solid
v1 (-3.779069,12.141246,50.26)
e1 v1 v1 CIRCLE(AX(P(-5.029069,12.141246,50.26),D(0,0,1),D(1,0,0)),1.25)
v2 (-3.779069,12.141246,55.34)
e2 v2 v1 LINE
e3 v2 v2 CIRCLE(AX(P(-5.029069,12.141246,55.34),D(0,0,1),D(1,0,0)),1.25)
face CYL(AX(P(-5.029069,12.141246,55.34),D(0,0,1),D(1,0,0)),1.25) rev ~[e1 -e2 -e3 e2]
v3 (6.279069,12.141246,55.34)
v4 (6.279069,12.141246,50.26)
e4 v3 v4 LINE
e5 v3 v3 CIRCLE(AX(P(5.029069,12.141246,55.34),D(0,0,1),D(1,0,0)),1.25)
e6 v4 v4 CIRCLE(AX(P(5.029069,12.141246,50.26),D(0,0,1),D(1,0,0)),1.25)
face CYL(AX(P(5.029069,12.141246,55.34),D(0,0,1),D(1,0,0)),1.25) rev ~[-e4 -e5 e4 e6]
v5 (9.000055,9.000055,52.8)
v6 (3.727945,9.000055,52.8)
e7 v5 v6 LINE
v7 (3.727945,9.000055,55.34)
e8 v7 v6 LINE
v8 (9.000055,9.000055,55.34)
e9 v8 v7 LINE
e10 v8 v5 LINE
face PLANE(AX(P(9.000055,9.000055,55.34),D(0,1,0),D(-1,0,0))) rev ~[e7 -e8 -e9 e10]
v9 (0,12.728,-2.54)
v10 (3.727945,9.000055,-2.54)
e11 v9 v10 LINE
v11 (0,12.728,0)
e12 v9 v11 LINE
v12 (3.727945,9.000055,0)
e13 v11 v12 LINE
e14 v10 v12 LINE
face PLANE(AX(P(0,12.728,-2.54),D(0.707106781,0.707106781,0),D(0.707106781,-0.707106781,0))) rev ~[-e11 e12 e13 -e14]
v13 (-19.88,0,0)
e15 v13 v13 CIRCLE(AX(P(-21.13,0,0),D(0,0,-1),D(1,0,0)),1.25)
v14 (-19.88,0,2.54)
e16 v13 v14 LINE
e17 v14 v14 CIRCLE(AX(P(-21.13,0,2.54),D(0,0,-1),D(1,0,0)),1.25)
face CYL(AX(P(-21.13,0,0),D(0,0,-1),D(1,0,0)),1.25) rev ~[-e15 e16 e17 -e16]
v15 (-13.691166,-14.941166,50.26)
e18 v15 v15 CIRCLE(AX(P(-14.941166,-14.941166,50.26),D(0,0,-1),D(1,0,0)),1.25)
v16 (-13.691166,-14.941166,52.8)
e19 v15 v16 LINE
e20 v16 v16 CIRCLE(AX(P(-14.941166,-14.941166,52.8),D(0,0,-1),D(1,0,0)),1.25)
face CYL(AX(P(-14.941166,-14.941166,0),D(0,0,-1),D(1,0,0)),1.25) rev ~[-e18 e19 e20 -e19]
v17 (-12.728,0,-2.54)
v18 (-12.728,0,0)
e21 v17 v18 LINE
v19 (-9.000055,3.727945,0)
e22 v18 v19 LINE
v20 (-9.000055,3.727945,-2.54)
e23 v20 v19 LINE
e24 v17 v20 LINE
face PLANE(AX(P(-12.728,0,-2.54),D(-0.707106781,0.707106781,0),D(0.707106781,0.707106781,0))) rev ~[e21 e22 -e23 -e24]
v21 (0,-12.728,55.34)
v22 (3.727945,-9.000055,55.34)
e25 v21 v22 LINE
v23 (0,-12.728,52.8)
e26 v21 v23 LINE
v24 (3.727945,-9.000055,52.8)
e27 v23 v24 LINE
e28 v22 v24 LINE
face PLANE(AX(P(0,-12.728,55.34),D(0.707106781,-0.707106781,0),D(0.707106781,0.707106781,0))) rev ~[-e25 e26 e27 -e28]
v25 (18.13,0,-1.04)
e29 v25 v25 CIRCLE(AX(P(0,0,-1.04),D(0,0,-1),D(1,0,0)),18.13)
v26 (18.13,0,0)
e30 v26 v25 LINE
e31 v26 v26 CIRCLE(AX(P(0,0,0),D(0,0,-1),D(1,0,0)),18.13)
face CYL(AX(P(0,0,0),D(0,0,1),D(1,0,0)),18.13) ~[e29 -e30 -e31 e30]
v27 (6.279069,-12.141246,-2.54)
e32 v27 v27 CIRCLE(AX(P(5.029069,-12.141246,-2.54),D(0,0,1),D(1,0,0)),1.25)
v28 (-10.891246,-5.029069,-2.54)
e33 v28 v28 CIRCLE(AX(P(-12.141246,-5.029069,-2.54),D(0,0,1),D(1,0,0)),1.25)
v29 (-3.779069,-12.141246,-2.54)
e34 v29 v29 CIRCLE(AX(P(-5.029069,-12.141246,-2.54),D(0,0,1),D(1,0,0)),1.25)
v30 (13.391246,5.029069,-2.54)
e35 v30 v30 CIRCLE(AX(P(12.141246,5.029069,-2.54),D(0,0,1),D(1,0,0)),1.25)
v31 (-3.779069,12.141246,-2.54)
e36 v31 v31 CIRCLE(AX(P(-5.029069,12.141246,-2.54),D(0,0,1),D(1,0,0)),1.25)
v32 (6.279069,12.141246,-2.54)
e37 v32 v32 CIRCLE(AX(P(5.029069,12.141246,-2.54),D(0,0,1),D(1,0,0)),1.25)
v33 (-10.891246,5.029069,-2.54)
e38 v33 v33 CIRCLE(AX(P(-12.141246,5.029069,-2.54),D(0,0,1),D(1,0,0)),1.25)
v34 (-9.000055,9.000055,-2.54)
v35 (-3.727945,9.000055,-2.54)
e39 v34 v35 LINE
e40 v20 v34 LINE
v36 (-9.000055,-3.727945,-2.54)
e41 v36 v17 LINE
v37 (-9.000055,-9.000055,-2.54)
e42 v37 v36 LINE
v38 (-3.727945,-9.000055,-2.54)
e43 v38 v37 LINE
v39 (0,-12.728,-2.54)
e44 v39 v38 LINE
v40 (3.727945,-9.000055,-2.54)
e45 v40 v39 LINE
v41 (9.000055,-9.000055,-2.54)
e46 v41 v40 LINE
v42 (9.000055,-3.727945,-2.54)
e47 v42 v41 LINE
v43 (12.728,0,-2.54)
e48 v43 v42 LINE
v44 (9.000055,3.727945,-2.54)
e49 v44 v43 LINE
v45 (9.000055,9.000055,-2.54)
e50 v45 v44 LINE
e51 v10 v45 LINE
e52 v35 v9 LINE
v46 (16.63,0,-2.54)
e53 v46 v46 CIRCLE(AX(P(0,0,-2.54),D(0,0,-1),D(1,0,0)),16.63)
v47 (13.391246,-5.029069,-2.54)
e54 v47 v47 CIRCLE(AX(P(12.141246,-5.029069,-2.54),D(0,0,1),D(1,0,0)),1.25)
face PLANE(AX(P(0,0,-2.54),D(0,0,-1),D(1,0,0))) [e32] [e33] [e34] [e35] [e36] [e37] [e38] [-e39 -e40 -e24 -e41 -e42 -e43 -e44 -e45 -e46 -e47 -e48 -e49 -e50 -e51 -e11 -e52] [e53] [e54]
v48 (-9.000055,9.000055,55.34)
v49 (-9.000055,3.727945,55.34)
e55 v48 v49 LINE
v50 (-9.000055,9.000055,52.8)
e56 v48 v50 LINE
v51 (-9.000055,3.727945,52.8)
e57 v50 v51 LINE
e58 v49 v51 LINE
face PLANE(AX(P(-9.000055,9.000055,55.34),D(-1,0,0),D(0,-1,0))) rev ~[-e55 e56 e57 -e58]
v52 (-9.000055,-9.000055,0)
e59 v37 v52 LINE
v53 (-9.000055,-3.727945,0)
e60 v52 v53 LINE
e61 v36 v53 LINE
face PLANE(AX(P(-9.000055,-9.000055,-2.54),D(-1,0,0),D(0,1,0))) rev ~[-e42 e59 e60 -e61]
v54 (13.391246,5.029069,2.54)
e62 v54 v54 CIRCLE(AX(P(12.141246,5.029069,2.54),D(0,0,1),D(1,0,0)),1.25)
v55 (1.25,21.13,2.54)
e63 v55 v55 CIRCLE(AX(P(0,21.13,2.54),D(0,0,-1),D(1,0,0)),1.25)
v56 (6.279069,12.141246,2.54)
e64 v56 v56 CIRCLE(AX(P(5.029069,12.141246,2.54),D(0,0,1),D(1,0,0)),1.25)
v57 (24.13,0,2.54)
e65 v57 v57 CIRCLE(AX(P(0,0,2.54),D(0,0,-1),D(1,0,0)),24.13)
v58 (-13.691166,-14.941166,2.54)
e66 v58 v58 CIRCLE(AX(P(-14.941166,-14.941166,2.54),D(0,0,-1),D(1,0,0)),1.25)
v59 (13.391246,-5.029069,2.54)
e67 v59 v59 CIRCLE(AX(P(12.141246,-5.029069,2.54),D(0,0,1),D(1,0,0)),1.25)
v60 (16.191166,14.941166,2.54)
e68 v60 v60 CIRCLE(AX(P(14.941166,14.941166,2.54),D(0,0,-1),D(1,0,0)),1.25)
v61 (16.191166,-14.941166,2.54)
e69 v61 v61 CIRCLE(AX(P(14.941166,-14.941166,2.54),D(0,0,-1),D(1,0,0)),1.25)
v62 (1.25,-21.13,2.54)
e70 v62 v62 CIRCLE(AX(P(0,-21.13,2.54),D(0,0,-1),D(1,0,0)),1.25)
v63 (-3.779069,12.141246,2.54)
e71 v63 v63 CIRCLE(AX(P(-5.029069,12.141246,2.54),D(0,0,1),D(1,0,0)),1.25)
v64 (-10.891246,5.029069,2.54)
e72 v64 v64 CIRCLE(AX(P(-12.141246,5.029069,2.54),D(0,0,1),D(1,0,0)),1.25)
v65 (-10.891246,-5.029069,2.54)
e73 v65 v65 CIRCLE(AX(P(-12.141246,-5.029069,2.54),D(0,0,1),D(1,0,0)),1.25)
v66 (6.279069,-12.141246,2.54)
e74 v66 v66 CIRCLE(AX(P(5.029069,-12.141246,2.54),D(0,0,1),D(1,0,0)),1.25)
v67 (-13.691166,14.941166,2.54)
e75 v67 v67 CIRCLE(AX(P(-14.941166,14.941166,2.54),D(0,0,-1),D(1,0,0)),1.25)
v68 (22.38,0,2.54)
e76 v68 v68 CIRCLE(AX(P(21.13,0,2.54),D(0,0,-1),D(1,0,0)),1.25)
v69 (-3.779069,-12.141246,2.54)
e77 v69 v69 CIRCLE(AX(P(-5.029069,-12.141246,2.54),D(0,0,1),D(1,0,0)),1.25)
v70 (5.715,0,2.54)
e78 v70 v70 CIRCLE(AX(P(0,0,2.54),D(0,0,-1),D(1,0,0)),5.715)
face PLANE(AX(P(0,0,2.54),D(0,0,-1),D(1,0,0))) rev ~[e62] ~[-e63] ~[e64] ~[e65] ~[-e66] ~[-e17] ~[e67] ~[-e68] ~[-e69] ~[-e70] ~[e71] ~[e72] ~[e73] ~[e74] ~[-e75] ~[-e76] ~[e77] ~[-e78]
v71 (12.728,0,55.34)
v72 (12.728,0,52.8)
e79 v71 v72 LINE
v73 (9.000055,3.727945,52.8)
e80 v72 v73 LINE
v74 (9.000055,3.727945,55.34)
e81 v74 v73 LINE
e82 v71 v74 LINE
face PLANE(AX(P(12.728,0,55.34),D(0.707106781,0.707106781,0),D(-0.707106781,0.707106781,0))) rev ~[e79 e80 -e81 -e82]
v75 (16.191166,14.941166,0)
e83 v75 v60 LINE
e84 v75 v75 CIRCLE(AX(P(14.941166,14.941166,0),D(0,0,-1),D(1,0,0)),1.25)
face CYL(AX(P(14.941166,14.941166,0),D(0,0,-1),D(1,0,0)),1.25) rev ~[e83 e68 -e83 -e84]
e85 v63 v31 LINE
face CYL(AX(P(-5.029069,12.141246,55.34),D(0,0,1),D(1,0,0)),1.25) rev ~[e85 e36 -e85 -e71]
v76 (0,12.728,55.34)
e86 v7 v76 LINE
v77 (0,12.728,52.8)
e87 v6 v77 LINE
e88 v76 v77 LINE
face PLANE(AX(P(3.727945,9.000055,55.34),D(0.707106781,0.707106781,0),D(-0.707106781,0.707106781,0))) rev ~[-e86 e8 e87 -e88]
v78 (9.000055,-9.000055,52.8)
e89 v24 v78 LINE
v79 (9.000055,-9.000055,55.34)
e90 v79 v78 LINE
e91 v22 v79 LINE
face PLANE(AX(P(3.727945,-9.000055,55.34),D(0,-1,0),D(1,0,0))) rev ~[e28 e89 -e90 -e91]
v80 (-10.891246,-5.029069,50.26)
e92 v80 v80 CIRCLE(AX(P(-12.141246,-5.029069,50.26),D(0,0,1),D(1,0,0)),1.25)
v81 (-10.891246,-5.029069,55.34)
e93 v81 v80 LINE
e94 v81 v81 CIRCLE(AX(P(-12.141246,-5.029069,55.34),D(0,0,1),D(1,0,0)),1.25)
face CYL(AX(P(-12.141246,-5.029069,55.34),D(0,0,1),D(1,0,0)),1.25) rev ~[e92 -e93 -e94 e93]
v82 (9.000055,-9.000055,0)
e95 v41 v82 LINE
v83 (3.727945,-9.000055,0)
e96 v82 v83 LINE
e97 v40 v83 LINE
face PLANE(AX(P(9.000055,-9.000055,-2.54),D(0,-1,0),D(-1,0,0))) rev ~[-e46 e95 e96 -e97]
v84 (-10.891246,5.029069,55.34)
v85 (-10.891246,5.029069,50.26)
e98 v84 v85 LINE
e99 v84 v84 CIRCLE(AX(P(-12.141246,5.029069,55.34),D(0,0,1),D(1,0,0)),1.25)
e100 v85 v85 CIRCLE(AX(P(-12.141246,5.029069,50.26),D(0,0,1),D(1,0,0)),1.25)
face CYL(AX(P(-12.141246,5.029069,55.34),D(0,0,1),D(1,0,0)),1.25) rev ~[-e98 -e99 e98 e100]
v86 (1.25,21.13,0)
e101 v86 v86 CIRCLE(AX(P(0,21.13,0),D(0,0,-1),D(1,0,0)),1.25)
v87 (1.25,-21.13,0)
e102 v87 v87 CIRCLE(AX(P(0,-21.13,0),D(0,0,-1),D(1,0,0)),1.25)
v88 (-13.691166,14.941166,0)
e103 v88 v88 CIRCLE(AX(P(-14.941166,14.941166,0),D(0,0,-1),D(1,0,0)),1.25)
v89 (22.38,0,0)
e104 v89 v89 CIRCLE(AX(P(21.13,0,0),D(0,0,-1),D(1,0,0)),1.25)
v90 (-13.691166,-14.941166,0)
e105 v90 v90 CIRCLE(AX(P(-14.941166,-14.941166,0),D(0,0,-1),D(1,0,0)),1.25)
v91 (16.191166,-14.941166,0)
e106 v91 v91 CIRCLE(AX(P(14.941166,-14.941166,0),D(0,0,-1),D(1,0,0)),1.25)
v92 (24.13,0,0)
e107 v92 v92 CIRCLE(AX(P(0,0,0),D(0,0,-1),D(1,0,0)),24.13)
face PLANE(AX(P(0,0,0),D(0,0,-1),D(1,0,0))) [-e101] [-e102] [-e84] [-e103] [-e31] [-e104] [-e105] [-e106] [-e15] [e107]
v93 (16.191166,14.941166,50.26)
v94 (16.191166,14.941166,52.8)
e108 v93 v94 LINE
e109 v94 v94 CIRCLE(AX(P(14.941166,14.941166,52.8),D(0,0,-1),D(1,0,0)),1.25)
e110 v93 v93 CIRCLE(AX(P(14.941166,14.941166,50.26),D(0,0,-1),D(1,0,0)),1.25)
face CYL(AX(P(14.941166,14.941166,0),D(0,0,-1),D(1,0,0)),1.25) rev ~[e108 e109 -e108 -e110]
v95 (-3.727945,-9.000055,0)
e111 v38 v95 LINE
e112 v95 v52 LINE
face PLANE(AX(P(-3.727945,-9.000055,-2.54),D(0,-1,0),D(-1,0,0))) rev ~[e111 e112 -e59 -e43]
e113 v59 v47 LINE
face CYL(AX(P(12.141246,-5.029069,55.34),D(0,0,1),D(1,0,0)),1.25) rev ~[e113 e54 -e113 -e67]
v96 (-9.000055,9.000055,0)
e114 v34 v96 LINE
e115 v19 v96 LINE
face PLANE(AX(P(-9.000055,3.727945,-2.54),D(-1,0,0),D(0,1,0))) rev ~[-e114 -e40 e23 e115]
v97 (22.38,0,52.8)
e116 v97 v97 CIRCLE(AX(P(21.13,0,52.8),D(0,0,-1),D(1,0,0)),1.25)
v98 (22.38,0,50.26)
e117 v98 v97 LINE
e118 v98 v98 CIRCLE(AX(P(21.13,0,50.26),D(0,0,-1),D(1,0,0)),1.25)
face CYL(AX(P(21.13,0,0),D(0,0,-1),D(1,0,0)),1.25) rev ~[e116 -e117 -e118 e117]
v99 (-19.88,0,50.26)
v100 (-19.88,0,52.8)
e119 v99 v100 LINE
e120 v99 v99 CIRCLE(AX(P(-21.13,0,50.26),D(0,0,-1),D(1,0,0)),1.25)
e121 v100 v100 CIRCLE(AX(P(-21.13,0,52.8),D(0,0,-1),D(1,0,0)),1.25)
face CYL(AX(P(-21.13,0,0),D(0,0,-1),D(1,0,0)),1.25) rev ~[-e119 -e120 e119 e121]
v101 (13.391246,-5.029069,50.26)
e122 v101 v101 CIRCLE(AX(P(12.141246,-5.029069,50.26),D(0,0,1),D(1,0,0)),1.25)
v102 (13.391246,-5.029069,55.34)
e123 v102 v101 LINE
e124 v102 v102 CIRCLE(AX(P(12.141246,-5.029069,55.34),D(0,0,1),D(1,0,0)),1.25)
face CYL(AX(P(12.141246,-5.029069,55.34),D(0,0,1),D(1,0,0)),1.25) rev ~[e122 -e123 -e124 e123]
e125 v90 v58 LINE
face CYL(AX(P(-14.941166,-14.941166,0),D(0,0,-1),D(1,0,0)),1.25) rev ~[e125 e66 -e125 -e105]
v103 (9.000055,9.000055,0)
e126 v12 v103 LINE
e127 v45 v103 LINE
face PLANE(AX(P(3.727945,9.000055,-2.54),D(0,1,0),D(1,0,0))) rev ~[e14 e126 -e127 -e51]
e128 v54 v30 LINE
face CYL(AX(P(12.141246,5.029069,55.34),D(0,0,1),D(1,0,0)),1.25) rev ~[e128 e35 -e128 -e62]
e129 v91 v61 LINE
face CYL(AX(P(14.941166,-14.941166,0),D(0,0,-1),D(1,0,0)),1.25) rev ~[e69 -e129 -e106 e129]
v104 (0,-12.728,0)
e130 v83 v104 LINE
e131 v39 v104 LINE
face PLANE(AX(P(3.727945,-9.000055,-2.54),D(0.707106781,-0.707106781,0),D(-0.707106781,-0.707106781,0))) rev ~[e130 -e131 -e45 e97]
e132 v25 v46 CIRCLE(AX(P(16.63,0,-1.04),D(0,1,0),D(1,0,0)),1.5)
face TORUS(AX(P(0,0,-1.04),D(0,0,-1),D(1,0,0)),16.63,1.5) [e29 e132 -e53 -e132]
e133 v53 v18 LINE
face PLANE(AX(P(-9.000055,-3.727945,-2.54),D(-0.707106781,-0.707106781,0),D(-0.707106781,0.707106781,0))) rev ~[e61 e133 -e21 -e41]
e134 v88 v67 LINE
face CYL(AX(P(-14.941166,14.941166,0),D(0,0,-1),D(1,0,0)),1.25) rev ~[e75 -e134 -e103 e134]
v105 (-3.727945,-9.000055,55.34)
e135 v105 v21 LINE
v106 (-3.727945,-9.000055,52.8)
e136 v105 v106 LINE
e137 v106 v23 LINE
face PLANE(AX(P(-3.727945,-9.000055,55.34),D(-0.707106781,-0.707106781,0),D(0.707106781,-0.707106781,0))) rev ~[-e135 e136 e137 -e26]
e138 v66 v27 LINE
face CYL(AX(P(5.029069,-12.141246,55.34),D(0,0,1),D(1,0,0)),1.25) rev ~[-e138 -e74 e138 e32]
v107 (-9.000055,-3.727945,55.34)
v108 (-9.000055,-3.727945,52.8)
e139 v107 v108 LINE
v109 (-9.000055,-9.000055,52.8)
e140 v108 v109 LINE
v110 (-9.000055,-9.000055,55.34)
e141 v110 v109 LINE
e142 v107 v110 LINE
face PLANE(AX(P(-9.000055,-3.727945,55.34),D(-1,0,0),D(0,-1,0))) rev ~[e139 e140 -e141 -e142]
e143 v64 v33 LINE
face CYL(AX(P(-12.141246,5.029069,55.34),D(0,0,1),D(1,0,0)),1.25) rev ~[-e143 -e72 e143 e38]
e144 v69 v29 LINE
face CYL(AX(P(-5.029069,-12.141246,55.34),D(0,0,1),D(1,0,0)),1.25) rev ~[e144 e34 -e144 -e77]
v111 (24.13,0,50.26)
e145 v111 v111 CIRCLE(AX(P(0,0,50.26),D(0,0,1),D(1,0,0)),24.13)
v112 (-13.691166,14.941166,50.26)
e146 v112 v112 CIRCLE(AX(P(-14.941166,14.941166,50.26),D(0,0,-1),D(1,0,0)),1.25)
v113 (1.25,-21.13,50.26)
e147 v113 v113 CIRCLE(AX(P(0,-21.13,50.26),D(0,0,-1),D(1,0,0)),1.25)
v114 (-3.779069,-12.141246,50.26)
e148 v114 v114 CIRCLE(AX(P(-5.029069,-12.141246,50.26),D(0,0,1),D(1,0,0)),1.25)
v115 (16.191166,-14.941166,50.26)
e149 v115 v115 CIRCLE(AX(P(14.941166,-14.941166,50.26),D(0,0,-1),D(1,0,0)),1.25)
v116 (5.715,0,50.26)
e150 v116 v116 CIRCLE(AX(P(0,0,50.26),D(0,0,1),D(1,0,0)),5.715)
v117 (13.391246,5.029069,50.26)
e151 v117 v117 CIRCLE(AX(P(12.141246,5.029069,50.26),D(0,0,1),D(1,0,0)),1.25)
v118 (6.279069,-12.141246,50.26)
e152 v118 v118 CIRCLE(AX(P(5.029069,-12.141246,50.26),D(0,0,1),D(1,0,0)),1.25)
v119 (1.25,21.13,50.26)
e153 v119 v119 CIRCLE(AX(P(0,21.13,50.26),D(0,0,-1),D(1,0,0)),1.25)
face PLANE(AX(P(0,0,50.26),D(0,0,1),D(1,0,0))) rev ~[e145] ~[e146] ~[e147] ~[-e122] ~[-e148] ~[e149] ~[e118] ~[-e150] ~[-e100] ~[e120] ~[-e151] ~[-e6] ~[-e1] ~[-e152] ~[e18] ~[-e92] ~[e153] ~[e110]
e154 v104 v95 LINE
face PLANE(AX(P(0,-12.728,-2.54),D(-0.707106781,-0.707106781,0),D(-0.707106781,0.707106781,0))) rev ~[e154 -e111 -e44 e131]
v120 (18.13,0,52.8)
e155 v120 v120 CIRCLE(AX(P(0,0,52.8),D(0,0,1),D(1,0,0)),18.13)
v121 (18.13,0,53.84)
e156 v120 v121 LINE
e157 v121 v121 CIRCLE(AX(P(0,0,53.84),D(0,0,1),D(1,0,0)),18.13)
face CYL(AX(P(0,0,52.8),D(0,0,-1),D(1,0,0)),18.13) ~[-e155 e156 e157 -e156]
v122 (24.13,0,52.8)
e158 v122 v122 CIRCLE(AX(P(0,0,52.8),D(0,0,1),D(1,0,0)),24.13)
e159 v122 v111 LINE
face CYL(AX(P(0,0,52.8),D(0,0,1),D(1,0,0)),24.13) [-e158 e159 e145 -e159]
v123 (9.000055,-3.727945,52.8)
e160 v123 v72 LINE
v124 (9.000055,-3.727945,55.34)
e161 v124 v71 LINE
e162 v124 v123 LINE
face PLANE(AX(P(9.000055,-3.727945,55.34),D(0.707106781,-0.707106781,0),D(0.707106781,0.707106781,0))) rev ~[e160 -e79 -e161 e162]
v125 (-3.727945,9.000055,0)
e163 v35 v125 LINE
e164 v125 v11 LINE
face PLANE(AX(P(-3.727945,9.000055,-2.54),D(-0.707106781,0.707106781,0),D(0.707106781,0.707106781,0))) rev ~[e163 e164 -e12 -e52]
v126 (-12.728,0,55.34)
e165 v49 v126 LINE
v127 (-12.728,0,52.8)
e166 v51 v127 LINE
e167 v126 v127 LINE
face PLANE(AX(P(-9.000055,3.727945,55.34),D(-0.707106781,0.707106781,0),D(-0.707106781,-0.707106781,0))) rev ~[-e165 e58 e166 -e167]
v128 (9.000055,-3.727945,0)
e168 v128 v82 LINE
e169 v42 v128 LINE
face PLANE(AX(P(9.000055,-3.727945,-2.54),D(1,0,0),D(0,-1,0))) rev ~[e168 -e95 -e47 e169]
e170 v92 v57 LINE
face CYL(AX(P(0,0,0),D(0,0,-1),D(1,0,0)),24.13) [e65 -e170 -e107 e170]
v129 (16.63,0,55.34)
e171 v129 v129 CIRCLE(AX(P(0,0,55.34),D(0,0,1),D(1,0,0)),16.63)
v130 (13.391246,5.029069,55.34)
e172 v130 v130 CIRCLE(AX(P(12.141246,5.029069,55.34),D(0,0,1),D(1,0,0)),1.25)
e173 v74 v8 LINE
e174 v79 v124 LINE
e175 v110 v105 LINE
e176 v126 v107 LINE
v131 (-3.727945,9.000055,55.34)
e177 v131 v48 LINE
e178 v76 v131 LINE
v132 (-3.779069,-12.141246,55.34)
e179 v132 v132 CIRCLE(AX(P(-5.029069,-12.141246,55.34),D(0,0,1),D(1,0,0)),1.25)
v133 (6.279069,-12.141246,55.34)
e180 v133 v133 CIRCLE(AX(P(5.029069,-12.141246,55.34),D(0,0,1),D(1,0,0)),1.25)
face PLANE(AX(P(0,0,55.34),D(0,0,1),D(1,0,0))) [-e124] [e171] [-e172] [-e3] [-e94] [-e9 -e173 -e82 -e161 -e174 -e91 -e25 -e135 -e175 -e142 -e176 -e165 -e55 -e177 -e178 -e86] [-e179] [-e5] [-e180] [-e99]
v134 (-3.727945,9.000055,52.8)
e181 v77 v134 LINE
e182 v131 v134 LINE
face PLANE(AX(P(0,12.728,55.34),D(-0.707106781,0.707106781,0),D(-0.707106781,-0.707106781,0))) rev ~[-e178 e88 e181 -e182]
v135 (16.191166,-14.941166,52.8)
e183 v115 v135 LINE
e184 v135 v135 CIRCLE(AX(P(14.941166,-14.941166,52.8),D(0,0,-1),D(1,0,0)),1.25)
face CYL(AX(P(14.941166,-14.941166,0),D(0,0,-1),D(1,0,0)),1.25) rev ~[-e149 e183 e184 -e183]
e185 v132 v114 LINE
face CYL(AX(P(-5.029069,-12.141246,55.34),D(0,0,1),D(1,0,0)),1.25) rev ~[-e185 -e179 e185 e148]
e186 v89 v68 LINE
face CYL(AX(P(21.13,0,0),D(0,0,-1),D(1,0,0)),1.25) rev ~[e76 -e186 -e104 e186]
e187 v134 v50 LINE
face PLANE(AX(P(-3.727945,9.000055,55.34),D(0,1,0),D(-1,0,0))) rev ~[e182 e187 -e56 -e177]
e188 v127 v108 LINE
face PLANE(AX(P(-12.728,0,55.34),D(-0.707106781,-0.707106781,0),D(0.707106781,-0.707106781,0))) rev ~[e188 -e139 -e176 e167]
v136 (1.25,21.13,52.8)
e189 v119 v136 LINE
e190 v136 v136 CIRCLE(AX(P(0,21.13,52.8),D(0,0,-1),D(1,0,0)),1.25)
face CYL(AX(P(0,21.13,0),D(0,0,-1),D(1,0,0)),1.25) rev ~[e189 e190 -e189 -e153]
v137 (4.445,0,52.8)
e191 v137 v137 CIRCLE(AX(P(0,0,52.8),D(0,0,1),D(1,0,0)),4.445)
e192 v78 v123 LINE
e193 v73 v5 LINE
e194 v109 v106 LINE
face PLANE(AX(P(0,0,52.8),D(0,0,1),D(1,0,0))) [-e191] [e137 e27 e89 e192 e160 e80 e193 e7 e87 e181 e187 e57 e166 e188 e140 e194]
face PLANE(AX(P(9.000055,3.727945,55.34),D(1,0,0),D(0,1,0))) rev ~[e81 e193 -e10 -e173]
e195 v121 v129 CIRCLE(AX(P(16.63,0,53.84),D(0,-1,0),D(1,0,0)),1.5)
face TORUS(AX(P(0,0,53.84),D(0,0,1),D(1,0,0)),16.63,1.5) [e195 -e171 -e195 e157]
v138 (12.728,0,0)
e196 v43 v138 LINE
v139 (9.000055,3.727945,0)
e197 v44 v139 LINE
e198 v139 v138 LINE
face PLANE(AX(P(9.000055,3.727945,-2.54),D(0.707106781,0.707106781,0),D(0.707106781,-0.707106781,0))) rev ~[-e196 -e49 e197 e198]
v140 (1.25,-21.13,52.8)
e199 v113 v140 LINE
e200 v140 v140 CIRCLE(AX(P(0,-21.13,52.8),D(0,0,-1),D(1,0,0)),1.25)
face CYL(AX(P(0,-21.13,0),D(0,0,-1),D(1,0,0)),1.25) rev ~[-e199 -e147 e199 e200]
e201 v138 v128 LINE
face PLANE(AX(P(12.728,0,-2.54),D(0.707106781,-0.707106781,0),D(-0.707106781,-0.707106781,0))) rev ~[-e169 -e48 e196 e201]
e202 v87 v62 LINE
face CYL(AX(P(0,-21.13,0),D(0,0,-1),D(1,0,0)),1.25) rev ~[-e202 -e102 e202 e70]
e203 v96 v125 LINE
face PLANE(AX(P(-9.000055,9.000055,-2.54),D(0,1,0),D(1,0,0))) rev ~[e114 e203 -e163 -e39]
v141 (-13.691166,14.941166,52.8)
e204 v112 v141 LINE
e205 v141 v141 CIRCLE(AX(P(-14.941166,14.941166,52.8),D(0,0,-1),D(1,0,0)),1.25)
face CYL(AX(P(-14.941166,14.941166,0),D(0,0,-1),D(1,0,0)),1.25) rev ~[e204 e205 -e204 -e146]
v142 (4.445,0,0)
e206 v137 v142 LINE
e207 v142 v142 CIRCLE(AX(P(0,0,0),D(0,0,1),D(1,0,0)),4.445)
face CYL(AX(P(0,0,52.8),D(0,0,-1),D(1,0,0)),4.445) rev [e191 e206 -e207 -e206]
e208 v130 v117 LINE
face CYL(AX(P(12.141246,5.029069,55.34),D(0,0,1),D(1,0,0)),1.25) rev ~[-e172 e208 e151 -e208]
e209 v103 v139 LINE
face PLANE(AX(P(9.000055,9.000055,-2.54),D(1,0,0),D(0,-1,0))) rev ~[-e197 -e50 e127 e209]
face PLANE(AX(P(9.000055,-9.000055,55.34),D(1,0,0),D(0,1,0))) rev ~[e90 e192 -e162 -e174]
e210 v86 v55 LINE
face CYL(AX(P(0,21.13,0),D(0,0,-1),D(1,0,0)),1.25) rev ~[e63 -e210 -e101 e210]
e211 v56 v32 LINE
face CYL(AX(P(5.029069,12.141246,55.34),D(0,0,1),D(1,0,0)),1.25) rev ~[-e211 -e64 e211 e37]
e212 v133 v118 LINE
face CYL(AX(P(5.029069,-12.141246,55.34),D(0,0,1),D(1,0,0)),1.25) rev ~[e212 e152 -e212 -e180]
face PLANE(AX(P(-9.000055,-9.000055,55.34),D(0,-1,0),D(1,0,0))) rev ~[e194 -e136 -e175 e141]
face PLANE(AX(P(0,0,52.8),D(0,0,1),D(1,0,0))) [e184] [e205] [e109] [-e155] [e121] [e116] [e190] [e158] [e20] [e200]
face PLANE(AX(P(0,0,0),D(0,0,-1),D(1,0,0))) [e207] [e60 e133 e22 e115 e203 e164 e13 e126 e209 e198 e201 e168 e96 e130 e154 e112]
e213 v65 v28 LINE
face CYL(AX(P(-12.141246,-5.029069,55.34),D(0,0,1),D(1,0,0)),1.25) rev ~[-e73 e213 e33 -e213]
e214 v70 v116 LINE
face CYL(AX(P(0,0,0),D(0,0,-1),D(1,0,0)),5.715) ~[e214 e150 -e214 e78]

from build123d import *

# Parameters (mm, degrees)
F0_R      = 5.715
F0_R_2    = 4.445
F1_DEPTH  = 52.8
F2_R      = 24.13
F2_R_2    = 5.715
F3_DEPTH  = 2.54
F4_R      = 24.13
F4_R_2    = 5.715
F5_DEPTH  = 2.54
F6_R      = 1.25
F7_DEPTH  = 52.801
F8_R      = 18.13
F8_R_2    = 4.445
F9_DEPTH  = 2.54
F10_R     = 1.5
F11_R     = 4.445
F12_DEPTH = 2.54
F13_R     = 18.13
F13_R_2   = 4.445
F14_DEPTH = 2.54
F15_R     = 1.5
F16_R     = 4.445
F17_DEPTH = 2.54
F18_R     = 1.25
F19_DEPTH = 57.881


with BuildPart() as f1:
    # F0 (on Top) → F1 (new body)
    with BuildSketch(Plane.XY):
        Circle(F0_R)
        Circle(F0_R_2, mode=Mode.SUBTRACT)
    extrude(amount=F1_DEPTH)

    # F2 (on face) → F3 (join)
    with BuildSketch(Plane.XY.offset(52.8)):
        Circle(F2_R)
        Circle(F2_R_2, mode=Mode.SUBTRACT)
    extrude(amount=-F3_DEPTH)

    # F4 (on face) → F5 (join)
    with BuildSketch(Plane(origin=(0, 0, 0), x_dir=(1, 0, 0), z_dir=(0, 0, -1))):
        Circle(F4_R)
        Circle(F4_R_2, mode=Mode.SUBTRACT)
    extrude(amount=-F5_DEPTH)

    # F6 (on face) → F7 (cut, through all)
    with BuildSketch(Plane(origin=(0, 0, 0), x_dir=(1, 0, 0), z_dir=(0, 0, -1))):
        with Locations((-21.13, 0)):
            Circle(F6_R)
        with Locations((-14.941166, -14.941166)):
            Circle(F6_R)
        with Locations((0, -21.13)):
            Circle(F6_R)
        with Locations((14.941166, -14.941166)):
            Circle(F6_R)
        with Locations((21.13, 0)):
            Circle(F6_R)
        with Locations((14.941166, 14.941166)):
            Circle(F6_R)
        with Locations((0, 21.13)):
            Circle(F6_R)
        with Locations((-14.941166, 14.941166)):
            Circle(F6_R)
    extrude(amount=-F7_DEPTH, mode=Mode.SUBTRACT)

    # F8 (on face) → F9 (join)
    with BuildSketch(Plane(origin=(0, 0, 0), x_dir=(1, 0, 0), z_dir=(0, 0, -1))):
        Circle(F8_R)
        Circle(F8_R_2, mode=Mode.SUBTRACT)
    extrude(amount=F9_DEPTH)

    # F10
    f10_edges = [f1.edges().sort_by_distance(p)[0] for p in [
        (-18.13, 0, -2.54),
    ]]
    fillet(f10_edges, radius=F10_R)

    # F11 (on face) → F12 (cut)
    with BuildSketch(Plane(origin=(0, 0, -2.54), x_dir=(1, 0, 0), z_dir=(0, 0, -1))):
        Polygon((3.727945, 9.000055), (0, 12.728), (-3.727945, 9.000055), (-9.000055, 9.000055), (-9.000055, 3.727945), (-12.728, 0), (-9.000055, -3.727945), (-9.000055, -9.000055), (-3.727945, -9.000055), (0, -12.728), (3.727945, -9.000055), (9.000055, -9.000055), (9.000055, -3.727945), (12.728, 0), (9.000055, 3.727945), (9.000055, 9.000055), align=None)
        Circle(F11_R, mode=Mode.SUBTRACT)
        Circle(F11_R)
    extrude(amount=-F12_DEPTH, mode=Mode.SUBTRACT)

    # F13 (on face) → F14 (join)
    with BuildSketch(Plane.XY.offset(52.8)):
        Circle(F13_R)
        Circle(F13_R_2, mode=Mode.SUBTRACT)
    extrude(amount=F14_DEPTH)

    # F15
    f15_edges = [f1.edges().sort_by_distance(p)[0] for p in [
        (-18.13, 0, 55.34),
    ]]
    fillet(f15_edges, radius=F15_R)

    # F16 (on face) → F17 (cut)
    with BuildSketch(Plane.XY.offset(55.34)):
        Polygon((3.727945, 9.000055), (0, 12.728), (-3.727945, 9.000055), (-9.000055, 9.000055), (-9.000055, 3.727945), (-12.728, 0), (-9.000055, -3.727945), (-9.000055, -9.000055), (-3.727945, -9.000055), (0, -12.728), (3.727945, -9.000055), (9.000055, -9.000055), (9.000055, -3.727945), (12.728, 0), (9.000055, 3.727945), (9.000055, 9.000055), align=None)
        Circle(F16_R, mode=Mode.SUBTRACT)
    extrude(amount=-F17_DEPTH, mode=Mode.SUBTRACT)

    # F18 (on face) → F19 (cut, through all)
    with BuildSketch(Plane.XY.offset(55.34)):
        with Locations((-12.141246, 5.029069)):
            Circle(F18_R)
        with Locations((-12.141246, -5.029069)):
            Circle(F18_R)
        with Locations((-5.029069, -12.141246)):
            Circle(F18_R)
        with Locations((5.029069, -12.141246)):
            Circle(F18_R)
        with Locations((12.141246, -5.029069)):
            Circle(F18_R)
        with Locations((12.141246, 5.029069)):
            Circle(F18_R)
        with Locations((5.029069, 12.141246)):
            Circle(F18_R)
        with Locations((-5.029069, 12.141246)):
            Circle(F18_R)
    extrude(amount=-F19_DEPTH, mode=Mode.SUBTRACT)


solid = f1.part
